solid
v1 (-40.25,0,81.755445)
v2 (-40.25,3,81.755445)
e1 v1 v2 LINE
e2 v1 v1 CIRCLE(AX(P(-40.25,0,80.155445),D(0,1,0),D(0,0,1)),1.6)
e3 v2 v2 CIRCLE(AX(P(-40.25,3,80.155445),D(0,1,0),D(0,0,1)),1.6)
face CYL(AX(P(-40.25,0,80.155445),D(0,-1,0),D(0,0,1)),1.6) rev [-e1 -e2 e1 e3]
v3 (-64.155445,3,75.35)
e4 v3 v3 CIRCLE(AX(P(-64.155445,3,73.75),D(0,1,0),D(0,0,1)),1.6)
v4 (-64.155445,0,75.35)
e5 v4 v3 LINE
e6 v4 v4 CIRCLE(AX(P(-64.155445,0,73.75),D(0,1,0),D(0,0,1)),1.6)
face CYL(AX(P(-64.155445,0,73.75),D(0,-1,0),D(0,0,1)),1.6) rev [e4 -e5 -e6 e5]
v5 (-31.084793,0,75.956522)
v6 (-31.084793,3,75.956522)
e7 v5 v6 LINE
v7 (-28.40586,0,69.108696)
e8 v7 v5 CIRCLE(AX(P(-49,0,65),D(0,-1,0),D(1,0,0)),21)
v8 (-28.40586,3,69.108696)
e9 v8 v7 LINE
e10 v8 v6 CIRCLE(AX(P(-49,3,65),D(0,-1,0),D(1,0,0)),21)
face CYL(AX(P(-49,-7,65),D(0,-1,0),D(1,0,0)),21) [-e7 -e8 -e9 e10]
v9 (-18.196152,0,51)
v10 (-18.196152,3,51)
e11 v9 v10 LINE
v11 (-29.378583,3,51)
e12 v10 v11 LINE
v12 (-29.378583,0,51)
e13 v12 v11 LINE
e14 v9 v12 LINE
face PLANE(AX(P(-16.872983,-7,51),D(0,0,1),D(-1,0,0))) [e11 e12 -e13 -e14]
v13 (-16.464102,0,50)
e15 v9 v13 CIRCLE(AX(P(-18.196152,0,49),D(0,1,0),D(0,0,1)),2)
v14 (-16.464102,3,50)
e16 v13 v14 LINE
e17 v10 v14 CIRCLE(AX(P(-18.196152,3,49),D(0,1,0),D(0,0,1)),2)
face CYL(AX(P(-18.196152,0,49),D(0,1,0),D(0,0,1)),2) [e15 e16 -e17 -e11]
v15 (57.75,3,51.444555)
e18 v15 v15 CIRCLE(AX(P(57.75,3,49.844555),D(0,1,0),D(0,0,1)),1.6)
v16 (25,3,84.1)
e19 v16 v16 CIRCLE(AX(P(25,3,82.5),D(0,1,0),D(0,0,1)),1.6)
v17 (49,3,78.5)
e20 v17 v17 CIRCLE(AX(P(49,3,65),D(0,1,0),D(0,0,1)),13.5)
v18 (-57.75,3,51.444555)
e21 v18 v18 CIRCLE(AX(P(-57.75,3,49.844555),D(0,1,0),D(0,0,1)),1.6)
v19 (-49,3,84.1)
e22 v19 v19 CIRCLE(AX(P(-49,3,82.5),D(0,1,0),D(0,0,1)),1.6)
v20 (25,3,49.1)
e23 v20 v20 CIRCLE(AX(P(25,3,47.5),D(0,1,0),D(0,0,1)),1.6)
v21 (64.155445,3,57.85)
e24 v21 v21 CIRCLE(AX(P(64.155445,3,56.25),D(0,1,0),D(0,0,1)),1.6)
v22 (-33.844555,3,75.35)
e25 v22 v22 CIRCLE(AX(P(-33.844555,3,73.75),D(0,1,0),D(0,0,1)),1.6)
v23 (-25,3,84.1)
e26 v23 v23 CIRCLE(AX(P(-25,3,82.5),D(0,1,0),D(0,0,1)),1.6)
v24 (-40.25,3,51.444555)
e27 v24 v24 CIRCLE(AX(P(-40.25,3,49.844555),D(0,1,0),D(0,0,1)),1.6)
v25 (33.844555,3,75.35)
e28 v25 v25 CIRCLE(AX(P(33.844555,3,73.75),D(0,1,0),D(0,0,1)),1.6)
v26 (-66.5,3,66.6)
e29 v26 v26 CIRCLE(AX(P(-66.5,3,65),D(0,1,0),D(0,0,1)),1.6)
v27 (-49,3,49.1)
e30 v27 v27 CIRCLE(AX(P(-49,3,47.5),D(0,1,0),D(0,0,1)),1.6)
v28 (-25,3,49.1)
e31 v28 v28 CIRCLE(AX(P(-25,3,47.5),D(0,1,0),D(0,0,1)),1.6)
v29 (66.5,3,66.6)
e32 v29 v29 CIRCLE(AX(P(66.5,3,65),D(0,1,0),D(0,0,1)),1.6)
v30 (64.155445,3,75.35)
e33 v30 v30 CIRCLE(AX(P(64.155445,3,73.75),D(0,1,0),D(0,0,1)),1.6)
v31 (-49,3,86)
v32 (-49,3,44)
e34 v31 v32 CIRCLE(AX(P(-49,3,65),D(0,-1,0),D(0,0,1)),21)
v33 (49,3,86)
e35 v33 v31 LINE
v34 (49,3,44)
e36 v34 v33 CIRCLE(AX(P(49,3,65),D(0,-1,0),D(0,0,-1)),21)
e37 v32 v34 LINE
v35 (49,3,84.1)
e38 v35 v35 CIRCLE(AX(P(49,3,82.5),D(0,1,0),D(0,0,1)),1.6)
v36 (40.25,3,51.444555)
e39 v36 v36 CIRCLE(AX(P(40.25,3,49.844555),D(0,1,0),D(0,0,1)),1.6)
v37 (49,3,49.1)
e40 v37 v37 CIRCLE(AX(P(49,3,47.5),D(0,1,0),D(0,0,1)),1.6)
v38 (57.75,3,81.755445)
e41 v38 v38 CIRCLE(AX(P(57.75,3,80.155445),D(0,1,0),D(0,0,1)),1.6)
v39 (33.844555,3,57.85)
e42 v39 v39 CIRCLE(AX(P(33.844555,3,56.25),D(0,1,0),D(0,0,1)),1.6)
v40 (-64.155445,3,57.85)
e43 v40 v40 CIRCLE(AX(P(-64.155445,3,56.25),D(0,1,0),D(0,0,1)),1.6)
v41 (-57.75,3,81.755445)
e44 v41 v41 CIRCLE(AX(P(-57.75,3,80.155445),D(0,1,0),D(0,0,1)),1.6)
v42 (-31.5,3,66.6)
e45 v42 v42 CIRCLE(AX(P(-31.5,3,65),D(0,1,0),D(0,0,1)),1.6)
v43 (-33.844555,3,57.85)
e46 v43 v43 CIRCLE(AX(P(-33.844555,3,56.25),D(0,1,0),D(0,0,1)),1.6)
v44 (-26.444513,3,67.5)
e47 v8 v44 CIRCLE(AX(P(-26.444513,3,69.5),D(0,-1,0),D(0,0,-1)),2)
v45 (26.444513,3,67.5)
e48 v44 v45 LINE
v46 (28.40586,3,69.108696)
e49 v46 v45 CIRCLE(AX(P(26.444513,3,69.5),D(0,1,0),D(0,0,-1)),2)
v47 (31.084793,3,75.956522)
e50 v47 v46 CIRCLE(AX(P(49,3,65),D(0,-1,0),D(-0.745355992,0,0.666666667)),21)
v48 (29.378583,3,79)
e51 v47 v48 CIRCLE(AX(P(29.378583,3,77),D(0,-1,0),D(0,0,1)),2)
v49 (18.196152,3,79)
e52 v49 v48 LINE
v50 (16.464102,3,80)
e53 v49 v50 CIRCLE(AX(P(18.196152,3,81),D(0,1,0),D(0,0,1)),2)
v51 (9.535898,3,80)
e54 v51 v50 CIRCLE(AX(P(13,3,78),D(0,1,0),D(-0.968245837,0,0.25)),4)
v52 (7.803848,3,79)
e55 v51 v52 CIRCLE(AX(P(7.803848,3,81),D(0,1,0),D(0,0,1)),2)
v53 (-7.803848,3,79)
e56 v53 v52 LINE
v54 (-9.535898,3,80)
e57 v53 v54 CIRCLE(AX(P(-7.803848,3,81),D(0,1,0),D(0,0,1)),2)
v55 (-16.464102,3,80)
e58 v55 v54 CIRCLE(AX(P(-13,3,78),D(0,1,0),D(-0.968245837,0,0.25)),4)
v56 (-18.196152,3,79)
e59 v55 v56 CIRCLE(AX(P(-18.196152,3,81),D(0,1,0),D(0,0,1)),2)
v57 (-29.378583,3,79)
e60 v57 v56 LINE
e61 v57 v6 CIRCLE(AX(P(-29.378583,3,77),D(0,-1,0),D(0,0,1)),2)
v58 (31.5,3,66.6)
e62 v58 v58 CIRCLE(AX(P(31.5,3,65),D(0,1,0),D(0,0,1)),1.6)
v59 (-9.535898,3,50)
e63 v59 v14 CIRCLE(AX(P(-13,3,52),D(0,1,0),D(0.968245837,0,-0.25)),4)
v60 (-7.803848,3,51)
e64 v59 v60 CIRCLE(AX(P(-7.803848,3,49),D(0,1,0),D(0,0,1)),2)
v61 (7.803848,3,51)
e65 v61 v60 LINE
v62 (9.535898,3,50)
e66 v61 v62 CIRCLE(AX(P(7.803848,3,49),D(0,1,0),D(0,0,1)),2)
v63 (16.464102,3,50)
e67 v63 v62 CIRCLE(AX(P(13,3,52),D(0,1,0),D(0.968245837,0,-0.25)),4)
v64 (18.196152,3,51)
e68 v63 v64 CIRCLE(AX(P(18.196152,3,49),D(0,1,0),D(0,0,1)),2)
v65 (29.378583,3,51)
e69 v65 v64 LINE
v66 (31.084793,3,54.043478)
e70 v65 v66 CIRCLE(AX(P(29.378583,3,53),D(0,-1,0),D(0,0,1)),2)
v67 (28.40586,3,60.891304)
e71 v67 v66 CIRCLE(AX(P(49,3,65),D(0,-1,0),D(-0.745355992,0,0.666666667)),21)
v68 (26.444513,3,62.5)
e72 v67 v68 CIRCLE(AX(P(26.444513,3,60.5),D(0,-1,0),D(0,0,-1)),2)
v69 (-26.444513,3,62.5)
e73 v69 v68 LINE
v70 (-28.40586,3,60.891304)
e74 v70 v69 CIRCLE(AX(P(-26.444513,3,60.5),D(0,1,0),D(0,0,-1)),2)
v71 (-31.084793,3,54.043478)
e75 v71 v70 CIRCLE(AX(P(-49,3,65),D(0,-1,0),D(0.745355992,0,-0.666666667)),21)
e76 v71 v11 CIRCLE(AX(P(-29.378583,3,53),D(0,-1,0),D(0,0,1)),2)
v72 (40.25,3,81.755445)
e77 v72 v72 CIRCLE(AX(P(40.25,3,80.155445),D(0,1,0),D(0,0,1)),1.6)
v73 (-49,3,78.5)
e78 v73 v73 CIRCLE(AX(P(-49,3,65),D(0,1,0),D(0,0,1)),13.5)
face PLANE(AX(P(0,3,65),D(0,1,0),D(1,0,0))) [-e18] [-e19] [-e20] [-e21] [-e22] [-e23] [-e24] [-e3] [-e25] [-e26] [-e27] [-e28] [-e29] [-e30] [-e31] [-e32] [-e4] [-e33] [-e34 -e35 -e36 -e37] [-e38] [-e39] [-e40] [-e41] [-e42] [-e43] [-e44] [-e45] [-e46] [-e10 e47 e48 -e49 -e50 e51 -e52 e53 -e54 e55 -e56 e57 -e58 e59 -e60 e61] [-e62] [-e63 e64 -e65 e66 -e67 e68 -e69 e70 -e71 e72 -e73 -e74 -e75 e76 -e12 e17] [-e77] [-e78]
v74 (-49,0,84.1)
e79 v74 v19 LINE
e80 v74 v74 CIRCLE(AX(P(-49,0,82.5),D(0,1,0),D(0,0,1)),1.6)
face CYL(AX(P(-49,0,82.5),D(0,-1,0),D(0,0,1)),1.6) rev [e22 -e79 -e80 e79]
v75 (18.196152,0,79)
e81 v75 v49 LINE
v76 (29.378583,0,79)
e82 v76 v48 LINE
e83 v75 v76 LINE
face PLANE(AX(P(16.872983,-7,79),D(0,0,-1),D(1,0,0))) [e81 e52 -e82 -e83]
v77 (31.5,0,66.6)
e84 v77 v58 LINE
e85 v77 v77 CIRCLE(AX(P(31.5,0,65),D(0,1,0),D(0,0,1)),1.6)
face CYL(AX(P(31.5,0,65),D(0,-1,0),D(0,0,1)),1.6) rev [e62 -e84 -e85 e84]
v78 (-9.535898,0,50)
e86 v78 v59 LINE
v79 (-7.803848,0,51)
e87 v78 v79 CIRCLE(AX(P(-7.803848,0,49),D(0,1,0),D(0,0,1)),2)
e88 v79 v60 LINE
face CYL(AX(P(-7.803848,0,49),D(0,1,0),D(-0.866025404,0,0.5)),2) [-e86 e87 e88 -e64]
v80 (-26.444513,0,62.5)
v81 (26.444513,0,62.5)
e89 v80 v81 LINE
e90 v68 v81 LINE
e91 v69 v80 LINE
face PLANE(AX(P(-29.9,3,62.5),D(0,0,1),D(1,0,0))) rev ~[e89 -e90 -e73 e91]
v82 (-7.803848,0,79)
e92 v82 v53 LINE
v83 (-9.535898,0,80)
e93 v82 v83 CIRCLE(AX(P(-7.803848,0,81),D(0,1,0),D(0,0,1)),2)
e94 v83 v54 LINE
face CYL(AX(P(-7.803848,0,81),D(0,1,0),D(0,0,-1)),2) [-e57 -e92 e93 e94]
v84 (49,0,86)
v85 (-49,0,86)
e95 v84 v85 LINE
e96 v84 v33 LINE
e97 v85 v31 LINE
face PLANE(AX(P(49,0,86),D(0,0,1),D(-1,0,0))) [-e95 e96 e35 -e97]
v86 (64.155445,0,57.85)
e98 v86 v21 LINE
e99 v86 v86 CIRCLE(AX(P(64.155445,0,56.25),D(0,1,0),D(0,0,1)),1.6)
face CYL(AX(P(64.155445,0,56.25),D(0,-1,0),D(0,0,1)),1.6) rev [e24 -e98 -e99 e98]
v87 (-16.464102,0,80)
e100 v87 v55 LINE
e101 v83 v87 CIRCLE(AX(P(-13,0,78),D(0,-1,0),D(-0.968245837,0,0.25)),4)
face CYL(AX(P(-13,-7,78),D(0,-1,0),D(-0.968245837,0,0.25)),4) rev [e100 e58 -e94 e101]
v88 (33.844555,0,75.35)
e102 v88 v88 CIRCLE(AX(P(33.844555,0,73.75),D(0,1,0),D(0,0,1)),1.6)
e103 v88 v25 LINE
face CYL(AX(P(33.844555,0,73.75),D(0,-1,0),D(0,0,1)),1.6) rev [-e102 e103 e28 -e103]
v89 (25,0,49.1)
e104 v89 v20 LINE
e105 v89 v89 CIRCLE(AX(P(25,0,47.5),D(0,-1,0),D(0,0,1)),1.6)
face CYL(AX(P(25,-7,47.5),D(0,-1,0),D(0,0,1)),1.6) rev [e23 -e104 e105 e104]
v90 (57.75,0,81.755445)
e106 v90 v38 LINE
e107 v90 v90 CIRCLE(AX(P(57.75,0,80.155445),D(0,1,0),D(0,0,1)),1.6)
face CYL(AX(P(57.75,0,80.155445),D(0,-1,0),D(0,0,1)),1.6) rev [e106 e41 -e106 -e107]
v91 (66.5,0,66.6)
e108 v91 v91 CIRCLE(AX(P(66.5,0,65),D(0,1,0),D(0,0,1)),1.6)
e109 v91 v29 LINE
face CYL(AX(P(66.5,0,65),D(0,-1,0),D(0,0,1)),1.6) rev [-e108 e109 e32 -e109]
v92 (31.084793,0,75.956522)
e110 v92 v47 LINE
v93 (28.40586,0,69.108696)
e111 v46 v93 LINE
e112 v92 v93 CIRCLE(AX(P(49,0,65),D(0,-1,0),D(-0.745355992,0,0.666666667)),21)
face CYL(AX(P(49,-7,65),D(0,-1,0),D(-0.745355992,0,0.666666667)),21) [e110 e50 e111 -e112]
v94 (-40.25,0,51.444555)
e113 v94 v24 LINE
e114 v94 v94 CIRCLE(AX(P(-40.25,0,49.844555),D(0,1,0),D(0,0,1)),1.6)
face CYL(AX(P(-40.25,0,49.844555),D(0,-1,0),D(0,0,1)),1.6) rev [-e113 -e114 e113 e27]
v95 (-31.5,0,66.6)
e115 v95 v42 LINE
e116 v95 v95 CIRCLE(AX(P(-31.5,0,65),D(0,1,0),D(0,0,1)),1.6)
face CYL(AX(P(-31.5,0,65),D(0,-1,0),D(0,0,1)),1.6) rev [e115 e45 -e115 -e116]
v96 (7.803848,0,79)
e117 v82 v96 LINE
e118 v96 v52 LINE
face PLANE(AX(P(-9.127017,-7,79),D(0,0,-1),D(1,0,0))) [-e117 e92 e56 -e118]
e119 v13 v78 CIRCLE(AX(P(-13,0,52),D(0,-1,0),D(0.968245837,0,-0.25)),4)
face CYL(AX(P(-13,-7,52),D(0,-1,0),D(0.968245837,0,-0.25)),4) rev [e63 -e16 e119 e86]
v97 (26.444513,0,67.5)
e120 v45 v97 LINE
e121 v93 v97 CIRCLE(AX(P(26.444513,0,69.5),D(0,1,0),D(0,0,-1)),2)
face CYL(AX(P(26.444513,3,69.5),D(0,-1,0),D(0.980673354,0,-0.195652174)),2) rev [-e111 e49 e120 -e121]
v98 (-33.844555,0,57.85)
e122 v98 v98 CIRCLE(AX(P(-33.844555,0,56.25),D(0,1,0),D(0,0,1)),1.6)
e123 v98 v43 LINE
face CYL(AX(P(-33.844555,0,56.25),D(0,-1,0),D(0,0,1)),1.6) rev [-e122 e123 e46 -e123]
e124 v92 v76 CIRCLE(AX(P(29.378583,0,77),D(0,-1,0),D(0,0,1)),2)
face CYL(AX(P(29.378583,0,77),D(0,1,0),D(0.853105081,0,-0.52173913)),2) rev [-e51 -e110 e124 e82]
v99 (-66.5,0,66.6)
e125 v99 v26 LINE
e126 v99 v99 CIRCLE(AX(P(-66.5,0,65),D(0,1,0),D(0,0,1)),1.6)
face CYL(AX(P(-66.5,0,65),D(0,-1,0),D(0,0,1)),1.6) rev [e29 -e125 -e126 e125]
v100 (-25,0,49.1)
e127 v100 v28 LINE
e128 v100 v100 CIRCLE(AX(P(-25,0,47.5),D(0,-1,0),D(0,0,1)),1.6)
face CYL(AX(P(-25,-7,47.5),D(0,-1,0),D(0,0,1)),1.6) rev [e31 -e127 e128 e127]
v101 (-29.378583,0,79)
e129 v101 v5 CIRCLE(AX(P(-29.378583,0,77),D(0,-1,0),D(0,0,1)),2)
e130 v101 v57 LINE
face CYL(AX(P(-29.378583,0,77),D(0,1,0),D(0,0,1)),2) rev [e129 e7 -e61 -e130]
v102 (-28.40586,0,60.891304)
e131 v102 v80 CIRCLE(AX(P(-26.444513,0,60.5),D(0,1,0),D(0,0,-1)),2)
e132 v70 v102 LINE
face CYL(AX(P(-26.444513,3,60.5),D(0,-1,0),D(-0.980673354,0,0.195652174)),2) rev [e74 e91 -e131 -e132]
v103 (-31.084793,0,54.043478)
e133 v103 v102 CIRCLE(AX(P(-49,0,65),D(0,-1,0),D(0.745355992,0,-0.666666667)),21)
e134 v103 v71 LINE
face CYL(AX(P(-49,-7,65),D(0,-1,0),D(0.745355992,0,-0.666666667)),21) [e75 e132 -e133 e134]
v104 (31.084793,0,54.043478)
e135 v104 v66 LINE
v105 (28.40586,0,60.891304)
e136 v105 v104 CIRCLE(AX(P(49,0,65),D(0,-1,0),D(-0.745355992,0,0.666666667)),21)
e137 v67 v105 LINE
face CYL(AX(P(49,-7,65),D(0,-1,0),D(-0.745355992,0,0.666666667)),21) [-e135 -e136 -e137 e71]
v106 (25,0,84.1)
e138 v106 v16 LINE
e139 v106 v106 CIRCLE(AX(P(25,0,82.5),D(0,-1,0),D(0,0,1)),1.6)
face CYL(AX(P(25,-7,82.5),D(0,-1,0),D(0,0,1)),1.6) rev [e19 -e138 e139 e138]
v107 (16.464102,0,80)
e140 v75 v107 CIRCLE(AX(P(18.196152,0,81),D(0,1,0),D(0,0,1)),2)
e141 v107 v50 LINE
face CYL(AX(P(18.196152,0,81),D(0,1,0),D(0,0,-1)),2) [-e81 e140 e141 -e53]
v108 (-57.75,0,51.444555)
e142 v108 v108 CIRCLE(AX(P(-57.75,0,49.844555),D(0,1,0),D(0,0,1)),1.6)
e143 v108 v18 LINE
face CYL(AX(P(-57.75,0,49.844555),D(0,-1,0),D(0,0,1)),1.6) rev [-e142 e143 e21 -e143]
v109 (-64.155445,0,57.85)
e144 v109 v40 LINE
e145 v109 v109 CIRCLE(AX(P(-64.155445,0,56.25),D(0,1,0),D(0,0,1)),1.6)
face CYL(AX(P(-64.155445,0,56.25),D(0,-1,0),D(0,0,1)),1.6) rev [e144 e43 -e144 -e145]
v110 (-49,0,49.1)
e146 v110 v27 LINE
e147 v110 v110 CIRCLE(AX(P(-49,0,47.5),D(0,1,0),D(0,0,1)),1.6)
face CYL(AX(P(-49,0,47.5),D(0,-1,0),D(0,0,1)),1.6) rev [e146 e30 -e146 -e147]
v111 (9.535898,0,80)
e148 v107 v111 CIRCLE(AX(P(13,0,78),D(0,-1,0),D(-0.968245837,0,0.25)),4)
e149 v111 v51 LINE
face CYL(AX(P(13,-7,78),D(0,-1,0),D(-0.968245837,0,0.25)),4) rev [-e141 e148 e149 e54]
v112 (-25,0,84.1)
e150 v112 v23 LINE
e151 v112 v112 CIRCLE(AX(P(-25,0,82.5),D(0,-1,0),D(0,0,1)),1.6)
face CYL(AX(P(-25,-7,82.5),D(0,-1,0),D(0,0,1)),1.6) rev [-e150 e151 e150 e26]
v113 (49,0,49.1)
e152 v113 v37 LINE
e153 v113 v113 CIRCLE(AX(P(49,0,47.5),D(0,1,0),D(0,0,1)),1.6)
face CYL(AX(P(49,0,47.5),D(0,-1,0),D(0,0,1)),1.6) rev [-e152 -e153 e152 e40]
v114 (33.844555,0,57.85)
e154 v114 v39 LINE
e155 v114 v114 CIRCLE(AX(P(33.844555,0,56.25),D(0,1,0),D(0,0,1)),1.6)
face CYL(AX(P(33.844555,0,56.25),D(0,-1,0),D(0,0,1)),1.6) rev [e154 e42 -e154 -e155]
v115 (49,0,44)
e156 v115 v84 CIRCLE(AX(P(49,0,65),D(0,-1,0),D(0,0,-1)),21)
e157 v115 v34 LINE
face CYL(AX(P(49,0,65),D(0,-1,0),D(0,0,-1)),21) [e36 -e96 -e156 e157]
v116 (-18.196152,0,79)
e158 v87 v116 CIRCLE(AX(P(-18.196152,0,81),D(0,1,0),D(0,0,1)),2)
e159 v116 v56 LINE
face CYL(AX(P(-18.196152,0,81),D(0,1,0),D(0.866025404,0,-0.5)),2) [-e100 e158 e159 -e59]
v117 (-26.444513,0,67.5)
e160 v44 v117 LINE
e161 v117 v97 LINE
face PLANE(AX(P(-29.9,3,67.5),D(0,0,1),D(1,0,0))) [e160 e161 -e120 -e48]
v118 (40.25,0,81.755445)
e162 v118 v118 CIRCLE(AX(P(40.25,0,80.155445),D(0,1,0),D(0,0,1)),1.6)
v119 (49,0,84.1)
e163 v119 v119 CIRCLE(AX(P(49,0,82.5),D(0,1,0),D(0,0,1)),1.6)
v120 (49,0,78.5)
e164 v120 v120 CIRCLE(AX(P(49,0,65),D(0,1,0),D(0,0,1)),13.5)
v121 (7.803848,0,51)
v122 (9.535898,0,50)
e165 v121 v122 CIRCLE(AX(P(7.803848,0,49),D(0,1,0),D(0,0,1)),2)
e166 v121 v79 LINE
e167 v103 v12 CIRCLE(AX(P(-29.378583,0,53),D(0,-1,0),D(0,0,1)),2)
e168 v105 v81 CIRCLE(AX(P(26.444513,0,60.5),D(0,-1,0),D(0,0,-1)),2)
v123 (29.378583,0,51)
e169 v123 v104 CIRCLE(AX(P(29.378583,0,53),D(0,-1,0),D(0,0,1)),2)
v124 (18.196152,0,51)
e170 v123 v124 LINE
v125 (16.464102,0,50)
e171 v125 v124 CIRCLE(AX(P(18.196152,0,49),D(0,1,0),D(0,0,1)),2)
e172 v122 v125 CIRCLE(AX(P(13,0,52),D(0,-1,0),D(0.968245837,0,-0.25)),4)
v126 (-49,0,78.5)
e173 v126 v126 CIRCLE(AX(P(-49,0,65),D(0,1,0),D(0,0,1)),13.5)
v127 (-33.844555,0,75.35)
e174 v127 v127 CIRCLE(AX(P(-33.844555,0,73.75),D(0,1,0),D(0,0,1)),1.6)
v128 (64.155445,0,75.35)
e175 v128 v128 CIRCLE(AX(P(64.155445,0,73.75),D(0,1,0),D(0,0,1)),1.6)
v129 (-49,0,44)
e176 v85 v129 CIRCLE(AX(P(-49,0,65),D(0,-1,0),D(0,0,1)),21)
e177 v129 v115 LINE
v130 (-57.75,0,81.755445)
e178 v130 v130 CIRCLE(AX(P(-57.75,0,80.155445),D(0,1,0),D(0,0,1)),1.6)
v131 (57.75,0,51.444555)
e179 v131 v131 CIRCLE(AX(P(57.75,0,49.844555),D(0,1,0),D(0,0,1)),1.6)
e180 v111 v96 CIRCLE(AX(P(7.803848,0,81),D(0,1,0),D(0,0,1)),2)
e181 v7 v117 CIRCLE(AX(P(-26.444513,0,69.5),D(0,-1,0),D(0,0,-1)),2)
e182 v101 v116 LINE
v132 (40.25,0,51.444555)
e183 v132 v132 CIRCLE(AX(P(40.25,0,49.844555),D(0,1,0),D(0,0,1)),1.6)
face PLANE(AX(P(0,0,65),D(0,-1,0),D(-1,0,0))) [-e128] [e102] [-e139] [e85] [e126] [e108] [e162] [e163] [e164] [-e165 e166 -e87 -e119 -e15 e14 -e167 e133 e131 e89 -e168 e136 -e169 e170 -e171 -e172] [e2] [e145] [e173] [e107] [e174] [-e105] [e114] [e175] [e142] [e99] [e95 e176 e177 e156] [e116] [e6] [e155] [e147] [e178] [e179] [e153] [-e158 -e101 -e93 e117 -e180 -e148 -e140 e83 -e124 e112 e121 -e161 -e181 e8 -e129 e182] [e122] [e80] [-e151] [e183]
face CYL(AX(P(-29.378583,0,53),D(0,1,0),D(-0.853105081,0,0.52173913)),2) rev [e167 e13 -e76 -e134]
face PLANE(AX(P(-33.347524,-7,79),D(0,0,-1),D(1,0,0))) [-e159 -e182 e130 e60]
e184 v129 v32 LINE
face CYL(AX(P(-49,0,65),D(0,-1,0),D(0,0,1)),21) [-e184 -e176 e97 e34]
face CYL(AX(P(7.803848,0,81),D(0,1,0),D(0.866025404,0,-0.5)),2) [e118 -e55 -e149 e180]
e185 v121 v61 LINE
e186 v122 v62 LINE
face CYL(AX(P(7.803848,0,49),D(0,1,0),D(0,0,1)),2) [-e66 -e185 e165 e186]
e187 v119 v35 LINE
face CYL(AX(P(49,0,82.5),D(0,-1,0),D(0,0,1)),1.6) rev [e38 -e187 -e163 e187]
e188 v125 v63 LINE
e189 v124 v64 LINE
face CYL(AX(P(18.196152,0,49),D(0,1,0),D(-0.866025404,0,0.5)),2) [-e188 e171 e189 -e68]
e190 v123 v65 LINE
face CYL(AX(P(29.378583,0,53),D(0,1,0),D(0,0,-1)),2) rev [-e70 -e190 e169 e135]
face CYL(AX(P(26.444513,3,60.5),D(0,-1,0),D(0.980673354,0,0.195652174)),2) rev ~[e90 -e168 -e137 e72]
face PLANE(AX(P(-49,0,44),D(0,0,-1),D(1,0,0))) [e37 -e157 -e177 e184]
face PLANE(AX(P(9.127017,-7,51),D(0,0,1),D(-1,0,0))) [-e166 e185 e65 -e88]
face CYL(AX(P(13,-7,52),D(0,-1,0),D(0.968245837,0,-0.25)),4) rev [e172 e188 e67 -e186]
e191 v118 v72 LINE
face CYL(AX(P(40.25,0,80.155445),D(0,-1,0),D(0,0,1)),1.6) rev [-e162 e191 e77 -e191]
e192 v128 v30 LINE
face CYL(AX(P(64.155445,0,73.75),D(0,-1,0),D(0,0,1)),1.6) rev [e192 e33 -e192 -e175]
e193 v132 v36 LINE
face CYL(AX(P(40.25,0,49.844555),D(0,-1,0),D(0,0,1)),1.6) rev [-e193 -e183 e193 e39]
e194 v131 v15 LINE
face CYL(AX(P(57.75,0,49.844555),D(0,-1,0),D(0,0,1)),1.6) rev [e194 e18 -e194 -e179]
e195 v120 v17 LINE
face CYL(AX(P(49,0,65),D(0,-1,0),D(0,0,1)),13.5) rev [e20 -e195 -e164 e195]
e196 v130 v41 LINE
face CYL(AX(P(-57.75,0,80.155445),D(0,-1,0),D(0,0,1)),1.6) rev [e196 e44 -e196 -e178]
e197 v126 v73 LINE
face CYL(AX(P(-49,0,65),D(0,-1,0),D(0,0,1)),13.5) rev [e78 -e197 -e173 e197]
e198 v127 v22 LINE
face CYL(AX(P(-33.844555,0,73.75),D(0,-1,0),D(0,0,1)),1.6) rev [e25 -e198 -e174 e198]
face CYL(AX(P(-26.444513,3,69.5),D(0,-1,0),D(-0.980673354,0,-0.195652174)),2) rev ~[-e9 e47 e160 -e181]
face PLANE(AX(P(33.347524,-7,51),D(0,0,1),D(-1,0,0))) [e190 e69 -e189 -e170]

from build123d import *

# Parameters (mm, degrees)
SKETCH_1_R          = 13.5
SKETCH_1_R_2        = 1.6
EXTRUDE_1_DEPTH     = 3
CUT_EXTRUDE_START   = -10
CUT_EXTRUDE_1_DEPTH = 10
SKETCH_3_W          = 59.8
SKETCH_3_H          = 5
EXTRUDE_1_2_DEPTH   = 3
FILLET_1_R          = 2
SKETCH_4_R          = 1.6
CUT_EXTRUDE_2_DEPTH = 10


with BuildPart() as part:
    # 草图1 → Extrude 1 (new body)
    with BuildSketch(Plane(origin=(0, 0, 0), x_dir=(1, 0, 0), z_dir=(0, 1, 0))):
        with BuildLine():
            Line((-49, -44), (49, -44))
            ThreePointArc((49, -44), (70, -65), (49, -86))
            Line((49, -86), (-49, -86))
            ThreePointArc((-49, -86), (-70, -65), (-49, -44))
        make_face()
        with Locations(Location((-49, -65, 0), (0, 0, 270))):
            Circle(SKETCH_1_R, mode=Mode.SUBTRACT)
        with Locations(Location((49, -65, 0), (0, 0, 270))):
            Circle(SKETCH_1_R, mode=Mode.SUBTRACT)
        with Locations(Location((-49, -82.5, 0), (0, 0, 270))):
            Circle(SKETCH_1_R_2, mode=Mode.SUBTRACT)
        with Locations(Location((-57.75, -80.155444566, 0), (0, 0, 270))):
            Circle(SKETCH_1_R_2, mode=Mode.SUBTRACT)
        with Locations(Location((-64.155444566, -73.75, 0), (0, 0, 270))):
            Circle(SKETCH_1_R_2, mode=Mode.SUBTRACT)
        with Locations(Location((-66.5, -65, 0), (0, 0, 270))):
            Circle(SKETCH_1_R_2, mode=Mode.SUBTRACT)
        with Locations(Location((-64.155444566, -56.25, 0), (0, 0, 270))):
            Circle(SKETCH_1_R_2, mode=Mode.SUBTRACT)
        with Locations(Location((-57.75, -49.844555434, 0), (0, 0, 270))):
            Circle(SKETCH_1_R_2, mode=Mode.SUBTRACT)
        with Locations(Location((-49, -47.5, 0), (0, 0, 270))):
            Circle(SKETCH_1_R_2, mode=Mode.SUBTRACT)
        with Locations(Location((-40.25, -49.844555434, 0), (0, 0, 270))):
            Circle(SKETCH_1_R_2, mode=Mode.SUBTRACT)
        with Locations(Location((-33.844555434, -56.25, 0), (0, 0, 270))):
            Circle(SKETCH_1_R_2, mode=Mode.SUBTRACT)
        with Locations(Location((-31.5, -65, 0), (0, 0, 270))):
            Circle(SKETCH_1_R_2, mode=Mode.SUBTRACT)
        with Locations(Location((-33.844555434, -73.75, 0), (0, 0, 270))):
            Circle(SKETCH_1_R_2, mode=Mode.SUBTRACT)
        with Locations(Location((-40.25, -80.155444566, 0), (0, 0, 270))):
            Circle(SKETCH_1_R_2, mode=Mode.SUBTRACT)
        with Locations(Location((64.155444566, -56.25, 0), (0, 0, 270))):
            Circle(SKETCH_1_R_2, mode=Mode.SUBTRACT)
        with Locations(Location((66.5, -65, 0), (0, 0, 270))):
            Circle(SKETCH_1_R_2, mode=Mode.SUBTRACT)
        with Locations(Location((64.155444566, -73.75, 0), (0, 0, 270))):
            Circle(SKETCH_1_R_2, mode=Mode.SUBTRACT)
        with Locations(Location((57.75, -80.155444566, 0), (0, 0, 270))):
            Circle(SKETCH_1_R_2, mode=Mode.SUBTRACT)
        with Locations(Location((49, -82.5, 0), (0, 0, 270))):
            Circle(SKETCH_1_R_2, mode=Mode.SUBTRACT)
        with Locations(Location((40.25, -80.155444566, 0), (0, 0, 270))):
            Circle(SKETCH_1_R_2, mode=Mode.SUBTRACT)
        with Locations(Location((33.844555434, -73.75, 0), (0, 0, 270))):
            Circle(SKETCH_1_R_2, mode=Mode.SUBTRACT)
        with Locations(Location((31.5, -65, 0), (0, 0, 270))):
            Circle(SKETCH_1_R_2, mode=Mode.SUBTRACT)
        with Locations(Location((33.844555434, -56.25, 0), (0, 0, 270))):
            Circle(SKETCH_1_R_2, mode=Mode.SUBTRACT)
        with Locations(Location((40.25, -49.844555434, 0), (0, 0, 270))):
            Circle(SKETCH_1_R_2, mode=Mode.SUBTRACT)
        with Locations(Location((49, -47.5, 0), (0, 0, 270))):
            Circle(SKETCH_1_R_2, mode=Mode.SUBTRACT)
        with Locations(Location((57.75, -49.844555434, 0), (0, 0, 270))):
            Circle(SKETCH_1_R_2, mode=Mode.SUBTRACT)
        with Locations(Location((13, -52, 0), (0, 0, 270))):
            Circle(SKETCH_1_R_2, mode=Mode.SUBTRACT)
        with Locations(Location((-13, -52, 0), (0, 0, 270))):
            Circle(SKETCH_1_R_2, mode=Mode.SUBTRACT)
        with Locations(Location((13, -78, 0), (0, 0, 270))):
            Circle(SKETCH_1_R_2, mode=Mode.SUBTRACT)
        with Locations(Location((-13, -78, 0), (0, 0, 270))):
            Circle(SKETCH_1_R_2, mode=Mode.SUBTRACT)
    extrude(amount=EXTRUDE_1_DEPTH)

    # 草图2 → 切除-拉伸1 (cut)
    with BuildSketch(Plane(origin=(0, 3, 0), x_dir=(1, 0, 0), z_dir=(0, 1, 0)).offset(CUT_EXTRUDE_START)):
        with BuildLine():
            Line((-16.872983346, -51), (-33.347524158, -51))
            ThreePointArc((-33.347524158, -51), (-29.382380462, -57.506736115), (-28, -65))
            ThreePointArc((-28, -65), (-29.382380462, -72.493263885), (-33.347524158, -79))
            Line((-33.347524158, -79), (-16.872983346, -79))
            ThreePointArc((-16.872983346, -79), (-13.50401717, -74.031881215), (-9, -78))
            ThreePointArc((-9, -78), (-9.031881215, -78.50401717), (-9.127016654, -79))
            Line((-9.127016654, -79), (9.127016654, -79))
            ThreePointArc((9.127016654, -79), (12.49598283, -74.031881215), (17, -78))
            ThreePointArc((17, -78), (16.968118785, -78.50401717), (16.872983346, -79))
            Line((16.872983346, -79), (33.347524158, -79))
            ThreePointArc((33.347524158, -79), (28, -65), (33.347524158, -51))
            Line((33.347524158, -51), (16.872983346, -51))
            ThreePointArc((16.872983346, -51), (16.968118785, -51.49598283), (17, -52))
            ThreePointArc((17, -52), (12.49598283, -55.968118785), (9.127016654, -51))
            Line((9.127016654, -51), (-9.127016654, -51))
            ThreePointArc((-9.127016654, -51), (-9.031881215, -51.49598283), (-9, -52))
            ThreePointArc((-9, -52), (-13.50401717, -55.968118785), (-16.872983346, -51))
        make_face()
        with BuildLine():
            ThreePointArc((17, -78), (12.49598283, -74.031881215), (9.127016654, -79))
            Line((9.127016654, -79), (11.7510004, -79))
            ThreePointArc((11.7510004, -79), (12.470094046, -76.490298149), (14.6, -78))
            ThreePointArc((14.6, -78), (14.509701851, -78.529905954), (14.2489996, -79))
            Line((14.2489996, -79), (16.872983346, -79))
            ThreePointArc((16.872983346, -79), (16.968118785, -78.50401717), (17, -78))
        make_face()
        with BuildLine():
            Line((11.7510004, -79), (9.127016654, -79))
            ThreePointArc((9.127016654, -79), (13, -82), (16.872983346, -79))
            Line((16.872983346, -79), (14.2489996, -79))
            ThreePointArc((14.2489996, -79), (13, -79.6), (11.7510004, -79))
        make_face()
        with BuildLine():
            ThreePointArc((-9.127016654, -51), (-13, -48), (-16.872983346, -51))
            Line((-16.872983346, -51), (-14.2489996, -51))
            ThreePointArc((-14.2489996, -51), (-13, -50.4), (-11.7510004, -51))
            Line((-11.7510004, -51), (-9.127016654, -51))
        make_face()
        with BuildLine():
            Line((-14.2489996, -51), (-16.872983346, -51))
            ThreePointArc((-16.872983346, -51), (-13.50401717, -55.968118785), (-9, -52))
            ThreePointArc((-9, -52), (-9.031881215, -51.49598283), (-9.127016654, -51))
            Line((-9.127016654, -51), (-11.7510004, -51))
            ThreePointArc((-11.7510004, -51), (-11.490298149, -51.470094046), (-11.4, -52))
            ThreePointArc((-11.4, -52), (-13.529905954, -53.509701851), (-14.2489996, -51))
        make_face()
        with BuildLine():
            ThreePointArc((16.872983346, -51), (13, -48), (9.127016654, -51))
            Line((9.127016654, -51), (11.7510004, -51))
            ThreePointArc((11.7510004, -51), (13, -50.4), (14.2489996, -51))
            Line((14.2489996, -51), (16.872983346, -51))
        make_face()
        with BuildLine():
            Line((11.7510004, -51), (9.127016654, -51))
            ThreePointArc((9.127016654, -51), (12.49598283, -55.968118785), (17, -52))
            ThreePointArc((17, -52), (16.968118785, -51.49598283), (16.872983346, -51))
            Line((16.872983346, -51), (14.2489996, -51))
            ThreePointArc((14.2489996, -51), (14.509701851, -51.470094046), (14.6, -52))
            ThreePointArc((14.6, -52), (12.470094046, -53.509701851), (11.7510004, -51))
        make_face()
        with BuildLine():
            ThreePointArc((-9, -78), (-13.50401717, -74.031881215), (-16.872983346, -79))
            Line((-16.872983346, -79), (-14.2489996, -79))
            ThreePointArc((-14.2489996, -79), (-13.529905954, -76.490298149), (-11.4, -78))
            ThreePointArc((-11.4, -78), (-11.490298149, -78.529905954), (-11.7510004, -79))
            Line((-11.7510004, -79), (-9.127016654, -79))
            ThreePointArc((-9.127016654, -79), (-9.031881215, -78.50401717), (-9, -78))
        make_face()
        with BuildLine():
            Line((-14.2489996, -79), (-16.872983346, -79))
            ThreePointArc((-16.872983346, -79), (-13, -82), (-9.127016654, -79))
            Line((-9.127016654, -79), (-11.7510004, -79))
            ThreePointArc((-11.7510004, -79), (-13, -79.6), (-14.2489996, -79))
        make_face()
    extrude(amount=CUT_EXTRUDE_1_DEPTH, mode=Mode.SUBTRACT)

    # 草图3 → Extrude 1 2 (add)
    with BuildSketch(Plane(origin=(0, 3, 0), x_dir=(1, 0, 0), z_dir=(0, 1, 0))):
        with Locations((0, -65)):
            Rectangle(SKETCH_3_W, SKETCH_3_H)
    extrude(amount=-EXTRUDE_1_2_DEPTH)

    # 圆角1
    fillet_1_edges = [part.edges().sort_by_distance(p)[0] for p in [
        (-33.347524158, 1.5, 79),
        (-33.347524158, 1.5, 51),
        (-16.872983346, 1.5, 51),
        (-9.127016654, 1.5, 51),
        (9.127016654, 1.5, 51),
        (16.872983346, 1.5, 51),
        (33.347524158, 1.5, 51),
        (33.347524158, 1.5, 79),
        (16.872983346, 1.5, 79),
        (9.127016654, 1.5, 79),
        (-16.872983346, 1.5, 79),
        (-9.127016654, 1.5, 79),
        (28.149340538, 1.5, 62.5),
        (28.149340538, 1.5, 67.5),
        (-28.149340538, 1.5, 62.5),
        (-28.149340538, 1.5, 67.5),
    ]]
    fillet(fillet_1_edges, radius=FILLET_1_R)

    # 草图4 → 切除-拉伸2 (cut)
    with BuildSketch(Plane(origin=(0, 3, 0), x_dir=(1, 0, 0), z_dir=(0, 1, 0)).offset(CUT_EXTRUDE_START)):
        with Locations(Location((-49, -82.5, 0), (0, 0, 270))):
            Circle(SKETCH_4_R)
        with Locations(Location((-49, -47.5, 0), (0, 0, 270))):
            Circle(SKETCH_4_R)
        with Locations(Location((25, -82.5, 0), (0, 0, 270))):
            Circle(SKETCH_4_R)
        with Locations(Location((-25, -82.5, 0), (0, 0, 270))):
            Circle(SKETCH_4_R)
        with Locations(Location((-25, -47.5, 0), (0, 0, 270))):
            Circle(SKETCH_4_R)
        with Locations(Location((25, -47.5, 0), (0, 0, 270))):
            Circle(SKETCH_4_R)
    extrude(amount=CUT_EXTRUDE_2_DEPTH, mode=Mode.SUBTRACT)


solid = part.part
